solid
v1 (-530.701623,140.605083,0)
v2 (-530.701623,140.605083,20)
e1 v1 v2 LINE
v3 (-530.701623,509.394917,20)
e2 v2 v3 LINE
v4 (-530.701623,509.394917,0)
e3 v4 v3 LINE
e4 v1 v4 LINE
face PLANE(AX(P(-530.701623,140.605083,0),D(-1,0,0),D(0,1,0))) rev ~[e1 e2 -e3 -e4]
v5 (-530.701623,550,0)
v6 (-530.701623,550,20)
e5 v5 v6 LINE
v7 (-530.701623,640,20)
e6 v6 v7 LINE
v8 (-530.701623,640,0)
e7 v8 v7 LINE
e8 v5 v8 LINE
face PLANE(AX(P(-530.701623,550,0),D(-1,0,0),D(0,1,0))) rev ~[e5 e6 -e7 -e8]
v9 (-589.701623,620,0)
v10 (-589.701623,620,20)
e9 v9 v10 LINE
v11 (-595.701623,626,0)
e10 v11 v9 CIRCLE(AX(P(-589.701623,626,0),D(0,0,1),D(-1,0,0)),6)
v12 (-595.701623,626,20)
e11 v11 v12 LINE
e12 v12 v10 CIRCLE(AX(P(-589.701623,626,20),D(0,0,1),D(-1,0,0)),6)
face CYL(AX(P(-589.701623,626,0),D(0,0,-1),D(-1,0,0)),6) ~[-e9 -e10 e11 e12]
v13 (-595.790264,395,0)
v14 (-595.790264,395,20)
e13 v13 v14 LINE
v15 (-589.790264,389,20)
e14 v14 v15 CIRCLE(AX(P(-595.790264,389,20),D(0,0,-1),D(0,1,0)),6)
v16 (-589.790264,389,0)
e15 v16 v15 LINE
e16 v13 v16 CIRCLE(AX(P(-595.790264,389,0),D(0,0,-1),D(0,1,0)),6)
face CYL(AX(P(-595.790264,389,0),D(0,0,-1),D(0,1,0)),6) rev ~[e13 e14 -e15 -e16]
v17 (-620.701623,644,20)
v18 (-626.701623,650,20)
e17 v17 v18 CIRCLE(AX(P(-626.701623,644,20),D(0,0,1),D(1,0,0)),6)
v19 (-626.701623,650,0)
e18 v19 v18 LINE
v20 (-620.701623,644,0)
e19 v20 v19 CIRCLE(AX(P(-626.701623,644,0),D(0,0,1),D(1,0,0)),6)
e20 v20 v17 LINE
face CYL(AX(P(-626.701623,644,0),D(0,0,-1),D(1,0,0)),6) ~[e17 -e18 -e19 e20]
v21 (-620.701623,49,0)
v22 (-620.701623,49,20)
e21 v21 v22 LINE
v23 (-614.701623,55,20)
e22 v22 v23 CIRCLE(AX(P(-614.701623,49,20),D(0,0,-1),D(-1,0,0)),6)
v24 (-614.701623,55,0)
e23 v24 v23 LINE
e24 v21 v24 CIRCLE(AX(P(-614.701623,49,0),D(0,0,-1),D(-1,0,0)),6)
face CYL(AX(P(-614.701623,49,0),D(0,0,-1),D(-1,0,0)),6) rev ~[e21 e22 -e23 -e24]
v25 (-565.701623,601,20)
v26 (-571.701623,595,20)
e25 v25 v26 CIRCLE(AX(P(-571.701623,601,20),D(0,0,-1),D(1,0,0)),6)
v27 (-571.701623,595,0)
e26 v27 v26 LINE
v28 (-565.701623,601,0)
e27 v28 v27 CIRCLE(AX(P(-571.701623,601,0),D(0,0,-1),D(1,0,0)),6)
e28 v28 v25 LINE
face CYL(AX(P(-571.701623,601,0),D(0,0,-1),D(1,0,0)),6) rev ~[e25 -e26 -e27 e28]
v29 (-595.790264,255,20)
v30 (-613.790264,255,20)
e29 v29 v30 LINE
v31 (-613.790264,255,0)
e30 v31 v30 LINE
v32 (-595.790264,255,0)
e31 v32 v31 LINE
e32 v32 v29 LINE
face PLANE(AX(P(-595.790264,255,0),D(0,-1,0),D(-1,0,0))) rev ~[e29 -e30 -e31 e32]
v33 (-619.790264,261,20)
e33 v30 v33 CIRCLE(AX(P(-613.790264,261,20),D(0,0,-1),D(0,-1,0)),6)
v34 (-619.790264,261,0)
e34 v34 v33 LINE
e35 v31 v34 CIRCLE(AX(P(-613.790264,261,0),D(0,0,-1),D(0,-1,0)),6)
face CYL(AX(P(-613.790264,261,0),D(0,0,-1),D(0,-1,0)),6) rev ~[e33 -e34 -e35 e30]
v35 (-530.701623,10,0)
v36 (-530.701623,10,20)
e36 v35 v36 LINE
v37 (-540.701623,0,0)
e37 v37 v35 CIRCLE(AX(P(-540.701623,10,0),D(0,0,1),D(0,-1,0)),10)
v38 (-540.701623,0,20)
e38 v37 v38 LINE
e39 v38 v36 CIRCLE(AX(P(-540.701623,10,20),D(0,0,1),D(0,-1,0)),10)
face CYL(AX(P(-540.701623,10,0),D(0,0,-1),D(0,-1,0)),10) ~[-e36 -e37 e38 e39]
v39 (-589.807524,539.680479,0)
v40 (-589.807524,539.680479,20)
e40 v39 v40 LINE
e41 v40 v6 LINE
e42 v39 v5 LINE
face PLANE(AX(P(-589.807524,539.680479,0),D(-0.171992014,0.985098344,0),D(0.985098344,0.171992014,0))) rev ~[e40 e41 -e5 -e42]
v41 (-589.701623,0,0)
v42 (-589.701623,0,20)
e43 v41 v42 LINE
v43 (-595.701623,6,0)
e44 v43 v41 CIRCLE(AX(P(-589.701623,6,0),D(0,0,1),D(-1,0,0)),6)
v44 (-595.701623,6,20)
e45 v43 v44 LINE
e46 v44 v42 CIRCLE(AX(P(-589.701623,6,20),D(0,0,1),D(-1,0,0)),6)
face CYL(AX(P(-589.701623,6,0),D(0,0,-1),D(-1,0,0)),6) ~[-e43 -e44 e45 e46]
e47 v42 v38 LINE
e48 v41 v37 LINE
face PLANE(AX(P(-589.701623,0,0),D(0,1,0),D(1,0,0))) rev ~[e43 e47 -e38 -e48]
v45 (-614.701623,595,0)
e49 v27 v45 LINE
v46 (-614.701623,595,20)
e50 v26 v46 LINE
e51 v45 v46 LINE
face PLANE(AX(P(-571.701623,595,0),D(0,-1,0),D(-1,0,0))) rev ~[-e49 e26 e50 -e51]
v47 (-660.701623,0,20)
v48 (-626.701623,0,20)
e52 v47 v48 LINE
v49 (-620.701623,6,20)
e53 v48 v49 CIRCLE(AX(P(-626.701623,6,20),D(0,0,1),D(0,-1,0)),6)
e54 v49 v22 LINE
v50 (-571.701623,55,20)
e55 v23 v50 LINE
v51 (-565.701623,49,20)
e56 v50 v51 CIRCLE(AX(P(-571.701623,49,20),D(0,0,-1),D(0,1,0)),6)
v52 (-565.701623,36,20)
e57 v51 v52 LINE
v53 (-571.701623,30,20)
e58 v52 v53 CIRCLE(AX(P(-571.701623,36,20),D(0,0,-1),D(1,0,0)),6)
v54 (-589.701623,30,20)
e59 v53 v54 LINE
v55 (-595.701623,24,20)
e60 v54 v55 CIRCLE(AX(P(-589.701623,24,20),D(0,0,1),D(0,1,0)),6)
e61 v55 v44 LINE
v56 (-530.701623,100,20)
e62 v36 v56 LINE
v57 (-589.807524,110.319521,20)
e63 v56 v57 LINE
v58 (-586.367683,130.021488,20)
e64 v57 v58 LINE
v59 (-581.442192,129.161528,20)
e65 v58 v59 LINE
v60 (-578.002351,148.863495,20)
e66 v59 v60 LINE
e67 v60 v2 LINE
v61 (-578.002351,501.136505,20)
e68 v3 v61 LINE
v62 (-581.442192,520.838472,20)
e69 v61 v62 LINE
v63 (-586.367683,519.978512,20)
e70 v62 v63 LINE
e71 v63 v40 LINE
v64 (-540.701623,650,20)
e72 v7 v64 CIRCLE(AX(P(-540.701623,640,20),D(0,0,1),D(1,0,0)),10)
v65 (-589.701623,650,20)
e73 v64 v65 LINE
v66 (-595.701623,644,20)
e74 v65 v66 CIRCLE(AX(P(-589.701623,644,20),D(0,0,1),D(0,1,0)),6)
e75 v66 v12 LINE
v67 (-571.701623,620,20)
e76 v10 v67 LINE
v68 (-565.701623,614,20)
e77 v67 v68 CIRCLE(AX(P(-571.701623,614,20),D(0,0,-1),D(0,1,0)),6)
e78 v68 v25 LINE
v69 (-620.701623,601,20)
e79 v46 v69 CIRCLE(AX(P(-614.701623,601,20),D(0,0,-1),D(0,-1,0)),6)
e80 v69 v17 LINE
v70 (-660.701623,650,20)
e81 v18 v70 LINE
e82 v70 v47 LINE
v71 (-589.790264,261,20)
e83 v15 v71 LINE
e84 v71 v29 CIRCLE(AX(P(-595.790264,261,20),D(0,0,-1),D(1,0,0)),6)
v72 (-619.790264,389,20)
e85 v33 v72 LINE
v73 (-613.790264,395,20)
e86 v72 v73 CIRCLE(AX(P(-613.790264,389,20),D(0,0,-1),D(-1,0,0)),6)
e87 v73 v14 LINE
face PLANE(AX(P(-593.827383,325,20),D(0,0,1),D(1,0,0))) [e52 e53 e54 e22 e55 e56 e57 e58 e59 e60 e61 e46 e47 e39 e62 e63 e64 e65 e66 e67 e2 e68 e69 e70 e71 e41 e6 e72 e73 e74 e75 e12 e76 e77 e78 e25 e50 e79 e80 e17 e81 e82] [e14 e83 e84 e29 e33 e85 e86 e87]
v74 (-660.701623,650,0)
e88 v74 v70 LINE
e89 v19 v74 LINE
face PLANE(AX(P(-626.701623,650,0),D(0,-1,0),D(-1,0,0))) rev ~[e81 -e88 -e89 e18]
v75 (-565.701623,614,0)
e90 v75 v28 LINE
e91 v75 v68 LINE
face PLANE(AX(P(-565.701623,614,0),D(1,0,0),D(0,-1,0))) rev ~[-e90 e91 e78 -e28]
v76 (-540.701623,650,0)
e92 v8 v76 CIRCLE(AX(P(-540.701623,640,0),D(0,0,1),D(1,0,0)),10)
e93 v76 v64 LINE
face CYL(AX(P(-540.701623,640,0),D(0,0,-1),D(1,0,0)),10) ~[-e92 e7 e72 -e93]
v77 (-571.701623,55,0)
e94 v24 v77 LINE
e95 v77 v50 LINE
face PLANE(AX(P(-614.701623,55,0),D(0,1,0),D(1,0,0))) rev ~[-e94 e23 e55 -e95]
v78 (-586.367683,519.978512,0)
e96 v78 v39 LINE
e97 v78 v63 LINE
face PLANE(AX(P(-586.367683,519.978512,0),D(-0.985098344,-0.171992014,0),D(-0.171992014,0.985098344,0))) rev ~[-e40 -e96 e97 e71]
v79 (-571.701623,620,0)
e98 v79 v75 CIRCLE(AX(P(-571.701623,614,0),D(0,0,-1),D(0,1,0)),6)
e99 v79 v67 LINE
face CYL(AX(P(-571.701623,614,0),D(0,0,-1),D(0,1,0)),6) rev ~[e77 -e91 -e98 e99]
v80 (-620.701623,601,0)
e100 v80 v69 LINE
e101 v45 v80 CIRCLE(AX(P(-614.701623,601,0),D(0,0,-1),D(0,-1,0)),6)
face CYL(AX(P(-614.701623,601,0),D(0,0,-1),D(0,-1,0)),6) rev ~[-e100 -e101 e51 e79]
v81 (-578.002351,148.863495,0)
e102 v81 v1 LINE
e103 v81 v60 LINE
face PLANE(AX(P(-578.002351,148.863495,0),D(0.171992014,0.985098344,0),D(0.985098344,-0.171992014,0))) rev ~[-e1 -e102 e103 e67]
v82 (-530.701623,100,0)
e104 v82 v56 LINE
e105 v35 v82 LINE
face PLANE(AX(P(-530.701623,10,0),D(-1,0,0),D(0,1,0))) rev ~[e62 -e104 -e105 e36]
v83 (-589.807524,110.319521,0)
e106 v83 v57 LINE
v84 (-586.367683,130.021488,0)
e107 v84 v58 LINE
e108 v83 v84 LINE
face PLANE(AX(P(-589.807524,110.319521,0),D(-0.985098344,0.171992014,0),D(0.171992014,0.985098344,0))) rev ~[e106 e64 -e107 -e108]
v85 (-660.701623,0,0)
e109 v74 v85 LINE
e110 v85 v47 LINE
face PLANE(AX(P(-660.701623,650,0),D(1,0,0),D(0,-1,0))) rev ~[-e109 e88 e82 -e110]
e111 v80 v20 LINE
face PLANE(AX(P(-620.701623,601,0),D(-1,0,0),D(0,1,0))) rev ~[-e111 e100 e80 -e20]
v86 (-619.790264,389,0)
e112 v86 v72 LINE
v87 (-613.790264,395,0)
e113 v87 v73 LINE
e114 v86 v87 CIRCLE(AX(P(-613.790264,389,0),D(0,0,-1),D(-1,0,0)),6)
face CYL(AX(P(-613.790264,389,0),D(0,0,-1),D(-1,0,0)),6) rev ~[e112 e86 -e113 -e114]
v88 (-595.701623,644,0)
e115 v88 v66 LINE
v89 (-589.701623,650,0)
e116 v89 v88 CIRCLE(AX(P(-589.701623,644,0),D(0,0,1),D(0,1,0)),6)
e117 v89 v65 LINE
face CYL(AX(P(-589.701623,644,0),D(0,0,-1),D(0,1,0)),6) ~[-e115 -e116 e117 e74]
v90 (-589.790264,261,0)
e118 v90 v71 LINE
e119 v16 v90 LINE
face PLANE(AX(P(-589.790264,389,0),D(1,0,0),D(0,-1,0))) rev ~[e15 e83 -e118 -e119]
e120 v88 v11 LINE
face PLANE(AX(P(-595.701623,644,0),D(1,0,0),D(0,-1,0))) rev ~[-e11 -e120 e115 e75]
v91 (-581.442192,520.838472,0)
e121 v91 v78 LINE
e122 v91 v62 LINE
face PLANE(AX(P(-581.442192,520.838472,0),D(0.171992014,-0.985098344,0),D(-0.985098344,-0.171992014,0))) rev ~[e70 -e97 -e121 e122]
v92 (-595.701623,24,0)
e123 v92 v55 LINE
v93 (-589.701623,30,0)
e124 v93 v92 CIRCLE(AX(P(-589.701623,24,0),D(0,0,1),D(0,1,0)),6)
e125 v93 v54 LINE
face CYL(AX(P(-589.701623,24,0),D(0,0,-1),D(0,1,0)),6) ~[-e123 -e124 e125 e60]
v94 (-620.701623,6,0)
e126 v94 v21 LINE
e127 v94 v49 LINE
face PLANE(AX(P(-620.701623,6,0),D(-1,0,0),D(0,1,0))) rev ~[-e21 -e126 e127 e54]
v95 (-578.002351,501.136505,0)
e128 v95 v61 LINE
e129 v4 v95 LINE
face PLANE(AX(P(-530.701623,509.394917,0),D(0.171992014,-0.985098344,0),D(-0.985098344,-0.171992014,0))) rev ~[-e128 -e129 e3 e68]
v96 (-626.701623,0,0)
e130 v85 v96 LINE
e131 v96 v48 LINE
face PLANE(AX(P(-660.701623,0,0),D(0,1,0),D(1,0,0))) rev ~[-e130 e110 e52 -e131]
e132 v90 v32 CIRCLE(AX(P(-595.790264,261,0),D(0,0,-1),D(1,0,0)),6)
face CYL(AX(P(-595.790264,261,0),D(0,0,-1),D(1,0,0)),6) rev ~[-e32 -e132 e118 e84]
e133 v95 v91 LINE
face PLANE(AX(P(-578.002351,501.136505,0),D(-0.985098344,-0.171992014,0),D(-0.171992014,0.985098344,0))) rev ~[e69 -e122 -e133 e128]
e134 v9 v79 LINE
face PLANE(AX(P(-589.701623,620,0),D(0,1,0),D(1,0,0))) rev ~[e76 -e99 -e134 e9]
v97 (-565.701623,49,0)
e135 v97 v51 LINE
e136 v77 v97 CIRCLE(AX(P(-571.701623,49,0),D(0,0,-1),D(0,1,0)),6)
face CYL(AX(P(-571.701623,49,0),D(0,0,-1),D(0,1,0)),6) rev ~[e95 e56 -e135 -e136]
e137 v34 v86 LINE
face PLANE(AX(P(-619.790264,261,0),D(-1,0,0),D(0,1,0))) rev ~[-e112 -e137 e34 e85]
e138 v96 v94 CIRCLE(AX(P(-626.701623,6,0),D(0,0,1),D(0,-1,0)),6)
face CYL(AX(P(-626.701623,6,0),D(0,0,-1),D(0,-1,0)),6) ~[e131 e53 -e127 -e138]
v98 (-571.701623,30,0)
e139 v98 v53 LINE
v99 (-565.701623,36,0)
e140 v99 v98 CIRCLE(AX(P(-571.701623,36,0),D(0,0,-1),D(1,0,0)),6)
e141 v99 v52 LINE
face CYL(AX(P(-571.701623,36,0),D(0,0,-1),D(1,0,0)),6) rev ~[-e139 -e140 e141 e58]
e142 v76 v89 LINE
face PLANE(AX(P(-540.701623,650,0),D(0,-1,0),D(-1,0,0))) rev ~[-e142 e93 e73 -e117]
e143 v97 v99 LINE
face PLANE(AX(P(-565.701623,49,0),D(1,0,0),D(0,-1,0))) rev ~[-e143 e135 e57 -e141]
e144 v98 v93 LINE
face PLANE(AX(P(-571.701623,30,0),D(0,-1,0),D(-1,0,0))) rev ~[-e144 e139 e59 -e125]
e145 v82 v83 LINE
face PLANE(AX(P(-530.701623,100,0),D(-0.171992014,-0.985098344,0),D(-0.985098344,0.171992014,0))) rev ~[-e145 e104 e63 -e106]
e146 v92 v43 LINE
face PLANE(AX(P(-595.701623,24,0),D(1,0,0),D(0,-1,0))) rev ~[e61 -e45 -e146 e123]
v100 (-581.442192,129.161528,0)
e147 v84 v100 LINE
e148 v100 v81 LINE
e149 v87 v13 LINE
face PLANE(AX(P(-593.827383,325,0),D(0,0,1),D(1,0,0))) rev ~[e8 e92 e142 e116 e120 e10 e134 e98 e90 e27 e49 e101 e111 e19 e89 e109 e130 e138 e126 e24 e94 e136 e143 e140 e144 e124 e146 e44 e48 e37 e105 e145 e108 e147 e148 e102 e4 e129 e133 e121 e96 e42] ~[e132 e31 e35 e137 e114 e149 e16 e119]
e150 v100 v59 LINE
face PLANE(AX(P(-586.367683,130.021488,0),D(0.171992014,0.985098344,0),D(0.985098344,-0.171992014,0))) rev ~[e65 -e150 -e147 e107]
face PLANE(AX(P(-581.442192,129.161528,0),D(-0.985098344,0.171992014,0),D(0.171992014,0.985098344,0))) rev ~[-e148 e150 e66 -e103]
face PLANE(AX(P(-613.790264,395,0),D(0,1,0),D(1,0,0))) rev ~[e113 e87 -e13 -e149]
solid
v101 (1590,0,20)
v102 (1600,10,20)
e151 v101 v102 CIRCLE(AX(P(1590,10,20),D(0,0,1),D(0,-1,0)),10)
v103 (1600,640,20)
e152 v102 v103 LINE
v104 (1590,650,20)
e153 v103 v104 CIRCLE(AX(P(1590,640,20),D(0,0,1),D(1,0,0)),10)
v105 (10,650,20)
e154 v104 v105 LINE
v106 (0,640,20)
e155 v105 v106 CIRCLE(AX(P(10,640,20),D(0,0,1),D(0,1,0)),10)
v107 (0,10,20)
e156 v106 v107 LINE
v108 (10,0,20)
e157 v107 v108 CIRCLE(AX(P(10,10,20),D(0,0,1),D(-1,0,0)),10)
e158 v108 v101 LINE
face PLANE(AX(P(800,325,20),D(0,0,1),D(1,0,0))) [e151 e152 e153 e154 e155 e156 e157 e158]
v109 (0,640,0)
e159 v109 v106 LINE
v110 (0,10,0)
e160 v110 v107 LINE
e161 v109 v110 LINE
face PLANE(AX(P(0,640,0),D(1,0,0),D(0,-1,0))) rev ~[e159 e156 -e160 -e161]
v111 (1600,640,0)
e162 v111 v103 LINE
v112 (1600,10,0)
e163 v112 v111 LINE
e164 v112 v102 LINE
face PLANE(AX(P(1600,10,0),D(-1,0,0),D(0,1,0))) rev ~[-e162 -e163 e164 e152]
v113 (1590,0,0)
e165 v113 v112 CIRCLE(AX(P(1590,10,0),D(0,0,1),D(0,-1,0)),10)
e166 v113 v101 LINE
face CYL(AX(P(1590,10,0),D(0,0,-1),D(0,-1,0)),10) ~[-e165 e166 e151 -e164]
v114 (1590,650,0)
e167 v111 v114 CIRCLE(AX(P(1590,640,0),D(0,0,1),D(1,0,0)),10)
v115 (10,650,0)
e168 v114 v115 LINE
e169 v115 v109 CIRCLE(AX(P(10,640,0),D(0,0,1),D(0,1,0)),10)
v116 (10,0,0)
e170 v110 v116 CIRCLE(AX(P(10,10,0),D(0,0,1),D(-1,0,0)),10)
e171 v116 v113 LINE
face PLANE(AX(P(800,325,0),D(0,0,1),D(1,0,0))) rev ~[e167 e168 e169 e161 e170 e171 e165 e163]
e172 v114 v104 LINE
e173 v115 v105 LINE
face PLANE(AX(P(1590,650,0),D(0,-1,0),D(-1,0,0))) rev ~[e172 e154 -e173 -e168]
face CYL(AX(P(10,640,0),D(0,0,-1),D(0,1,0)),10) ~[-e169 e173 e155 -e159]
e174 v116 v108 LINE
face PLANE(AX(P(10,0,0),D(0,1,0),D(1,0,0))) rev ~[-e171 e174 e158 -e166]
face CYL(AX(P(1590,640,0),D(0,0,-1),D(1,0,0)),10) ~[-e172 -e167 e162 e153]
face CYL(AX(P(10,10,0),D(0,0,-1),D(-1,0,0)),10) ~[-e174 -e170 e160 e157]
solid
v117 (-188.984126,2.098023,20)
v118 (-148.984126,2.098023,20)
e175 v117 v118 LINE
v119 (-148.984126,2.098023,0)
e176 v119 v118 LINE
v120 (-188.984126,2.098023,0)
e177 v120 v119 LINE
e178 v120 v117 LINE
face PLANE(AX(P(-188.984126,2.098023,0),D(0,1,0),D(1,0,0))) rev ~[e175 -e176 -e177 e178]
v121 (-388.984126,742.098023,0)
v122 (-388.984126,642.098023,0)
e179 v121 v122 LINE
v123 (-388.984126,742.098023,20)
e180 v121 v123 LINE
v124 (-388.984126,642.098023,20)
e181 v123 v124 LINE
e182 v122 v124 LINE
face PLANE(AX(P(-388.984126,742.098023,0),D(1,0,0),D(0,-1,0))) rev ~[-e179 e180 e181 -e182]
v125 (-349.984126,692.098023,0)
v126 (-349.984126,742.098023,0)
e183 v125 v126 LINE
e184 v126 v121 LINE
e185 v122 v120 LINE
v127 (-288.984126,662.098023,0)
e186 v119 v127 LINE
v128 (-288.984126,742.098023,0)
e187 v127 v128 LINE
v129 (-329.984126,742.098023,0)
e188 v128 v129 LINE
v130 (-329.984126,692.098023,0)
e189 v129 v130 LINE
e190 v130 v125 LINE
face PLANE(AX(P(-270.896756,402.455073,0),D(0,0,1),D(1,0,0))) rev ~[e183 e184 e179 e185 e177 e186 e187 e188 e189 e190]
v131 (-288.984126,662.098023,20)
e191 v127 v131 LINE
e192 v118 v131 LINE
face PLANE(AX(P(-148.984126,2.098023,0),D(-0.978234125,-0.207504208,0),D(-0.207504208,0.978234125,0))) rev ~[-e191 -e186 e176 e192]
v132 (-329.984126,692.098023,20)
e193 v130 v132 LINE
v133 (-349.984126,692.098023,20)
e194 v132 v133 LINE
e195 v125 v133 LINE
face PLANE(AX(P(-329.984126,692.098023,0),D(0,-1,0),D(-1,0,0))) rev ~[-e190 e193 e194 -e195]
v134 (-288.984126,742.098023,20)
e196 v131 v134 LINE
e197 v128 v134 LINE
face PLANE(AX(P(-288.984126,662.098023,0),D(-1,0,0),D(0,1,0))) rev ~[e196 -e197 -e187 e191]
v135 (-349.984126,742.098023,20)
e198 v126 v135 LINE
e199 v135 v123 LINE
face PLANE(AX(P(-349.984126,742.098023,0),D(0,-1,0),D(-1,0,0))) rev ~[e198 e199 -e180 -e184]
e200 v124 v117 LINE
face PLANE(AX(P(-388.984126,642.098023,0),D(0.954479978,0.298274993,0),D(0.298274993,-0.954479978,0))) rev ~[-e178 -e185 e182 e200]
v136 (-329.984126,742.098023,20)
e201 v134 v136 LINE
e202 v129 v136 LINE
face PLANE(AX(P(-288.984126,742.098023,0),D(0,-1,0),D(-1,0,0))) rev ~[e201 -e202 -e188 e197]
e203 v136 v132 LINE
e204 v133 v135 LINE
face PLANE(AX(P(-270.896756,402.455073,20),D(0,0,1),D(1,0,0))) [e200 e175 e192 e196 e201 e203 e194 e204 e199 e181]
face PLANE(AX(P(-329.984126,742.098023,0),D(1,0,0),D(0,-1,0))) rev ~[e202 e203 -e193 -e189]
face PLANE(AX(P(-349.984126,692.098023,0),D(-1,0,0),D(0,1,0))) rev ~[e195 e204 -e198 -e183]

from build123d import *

# Parameters (mm, degrees)
F4_DEPTH = 20
F5_DEPTH = 20
F6_DEPTH = 20


with BuildPart() as f4:
    # F3 (on Top) → F4 (new body)
    with BuildSketch(Plane.XY):
        with BuildLine():
            Line((-589.701622963, 0), (-540.701622963, 0))
            ThreePointArc((-540.701622963, 0), (-533.6305551511, 2.9289321881), (-530.701622963, 10))
            Line((-530.701622963, 10), (-530.701622963, 100))
            Line((-530.701622963, 100), (-589.807523595, 110.319520845))
            Line((-589.807523595, 110.319520845), (-586.3676833134, 130.0214877224))
            Line((-586.3676833134, 130.0214877224), (-581.442191594, 129.1615276519))
            Line((-581.442191594, 129.1615276519), (-578.0023513124, 148.8634945293))
            Line((-578.0023513124, 148.8634945293), (-530.701622963, 140.6050829838))
            Line((-530.701622963, 140.6050829838), (-530.701622963, 509.3949170162))
            Line((-530.701622963, 509.3949170162), (-578.0023513124, 501.1365054707))
            Line((-578.0023513124, 501.1365054707), (-581.442191594, 520.8384723481))
            Line((-581.442191594, 520.8384723481), (-586.3676833134, 519.9785122776))
            Line((-586.3676833134, 519.9785122776), (-589.807523595, 539.680479155))
            Line((-589.807523595, 539.680479155), (-530.701622963, 550))
            Line((-530.701622963, 550), (-530.701622963, 640))
            ThreePointArc((-530.701622963, 640), (-533.6305551511, 647.0710678119), (-540.701622963, 650))
            Line((-540.701622963, 650), (-589.701622963, 650))
            ThreePointArc((-589.701622963, 650), (-593.9442636501, 648.2426406871), (-595.701622963, 644))
            Line((-595.701622963, 644), (-595.701622963, 626))
            ThreePointArc((-595.701622963, 626), (-593.9442636501, 621.7573593129), (-589.701622963, 620))
            Line((-589.701622963, 620), (-571.701622963, 620))
            ThreePointArc((-571.701622963, 620), (-567.4589822758, 618.2426406871), (-565.701622963, 614))
            Line((-565.701622963, 614), (-565.701622963, 601))
            ThreePointArc((-565.701622963, 601), (-567.4589822758, 596.7573593129), (-571.701622963, 595))
            Line((-571.701622963, 595), (-614.701622963, 595))
            ThreePointArc((-614.701622963, 595), (-618.9442636501, 596.7573593129), (-620.701622963, 601))
            Line((-620.701622963, 601), (-620.701622963, 644))
            ThreePointArc((-620.701622963, 644), (-622.4589822758, 648.2426406871), (-626.701622963, 650))
            Line((-626.701622963, 650), (-660.701622963, 650))
            Line((-660.701622963, 650), (-660.701622963, 0))
            Line((-660.701622963, 0), (-626.701622963, 0))
            ThreePointArc((-626.701622963, 0), (-622.4589822758, 1.7573593129), (-620.701622963, 6))
            Line((-620.701622963, 6), (-620.701622963, 49))
            ThreePointArc((-620.701622963, 49), (-618.9442636501, 53.2426406871), (-614.701622963, 55))
            Line((-614.701622963, 55), (-571.701622963, 55))
            ThreePointArc((-571.701622963, 55), (-567.4589822758, 53.2426406871), (-565.701622963, 49))
            Line((-565.701622963, 49), (-565.701622963, 36))
            ThreePointArc((-565.701622963, 36), (-567.4589822758, 31.7573593129), (-571.701622963, 30))
            Line((-571.701622963, 30), (-589.701622963, 30))
            ThreePointArc((-589.701622963, 30), (-593.9442636501, 28.2426406871), (-595.701622963, 24))
            Line((-595.701622963, 24), (-595.701622963, 6))
            ThreePointArc((-595.701622963, 6), (-593.9442636501, 1.7573593129), (-589.701622963, 0))
        make_face()
        with BuildLine():
            Line((-595.7902641296, 255), (-613.7902641296, 255))
            ThreePointArc((-613.7902641296, 255), (-618.0329048168, 256.7573593129), (-619.7902641296, 261))
            Line((-619.7902641296, 261), (-619.7902641296, 325))
            Line((-619.7902641296, 325), (-619.7902641296, 389))
            ThreePointArc((-619.7902641296, 389), (-618.0329048168, 393.2426406871), (-613.7902641296, 395))
            Line((-613.7902641296, 395), (-595.7902641296, 395))
            ThreePointArc((-595.7902641296, 395), (-591.5476234425, 393.2426406871), (-589.7902641296, 389))
            Line((-589.7902641296, 389), (-589.7902641296, 325))
            Line((-589.7902641296, 325), (-589.7902641296, 261))
            ThreePointArc((-589.7902641296, 261), (-591.5476234425, 256.7573593129), (-595.7902641296, 255))
        make_face(mode=Mode.SUBTRACT)
    extrude(amount=F4_DEPTH)


with BuildPart() as f5:
    # F2 (on Top) → F5 (new body)
    with BuildSketch(Plane.XY):
        Polygon((-188.9841258526, 2.0980232812), (-148.9841258526, 2.0980232812), (-288.9841258526, 662.0980232812), (-288.9841258526, 742.0980232812), (-329.9841258526, 742.0980232812), (-329.9841258526, 692.0980232812), (-349.9841258526, 692.0980232812), (-349.9841258526, 742.0980232812), (-388.9841258526, 742.0980232812), (-388.9841258526, 642.0980232812), align=None)
    extrude(amount=F5_DEPTH)


with BuildPart() as f6:
    # F1 (on Top) → F6 (new body)
    with BuildSketch(Plane.XY):
        with BuildLine():
            ThreePointArc((0, 10), (2.9289321881, 2.9289321881), (10, 0))
            Line((10, 0), (1590, 0))
            ThreePointArc((1590, 0), (1597.0710678119, 2.9289321881), (1600, 10))
            Line((1600, 10), (1600, 640))
            ThreePointArc((1600, 640), (1597.0710678119, 647.0710678119), (1590, 650))
            Line((1590, 650), (10, 650))
            ThreePointArc((10, 650), (2.9289321881, 647.0710678119), (0, 640))
            Line((0, 640), (0, 10))
        make_face()
        with BuildLine():
            Line((50, 311), (50, 339))
            ThreePointArc((50, 339), (51.7573593129, 343.2426406871), (56, 345))
            Line((56, 345), (244, 345))
            ThreePointArc((244, 345), (248.2426406871, 343.2426406871), (250, 339))
            Line((250, 339), (250, 311))
            ThreePointArc((250, 311), (248.2426406871, 306.7573593129), (244, 305))
            Line((244, 305), (56, 305))
            ThreePointArc((56, 305), (51.7573593129, 306.7573593129), (50, 311))
        make_face(mode=Mode.SUBTRACT)
        with BuildLine():
            ThreePointArc((1550, 311), (1548.2426406871, 306.7573593129), (1544, 305))
            Line((1544, 305), (1356, 305))
            ThreePointArc((1356, 305), (1351.7573593129, 306.7573593129), (1350, 311))
            Line((1350, 311), (1350, 339))
            ThreePointArc((1350, 339), (1351.7573593129, 343.2426406871), (1356, 345))
            Line((1356, 345), (1544, 345))
            ThreePointArc((1544, 345), (1548.2426406871, 343.2426406871), (1550, 339))
            Line((1550, 339), (1550, 311))
        make_face(mode=Mode.SUBTRACT)
        with BuildLine():
            ThreePointArc((1550, 361), (1548.2426406871, 356.7573593129), (1544, 355))
            Line((1544, 355), (1356, 355))
            ThreePointArc((1356, 355), (1351.7573593129, 356.7573593129), (1350, 361))
            Line((1350, 361), (1350, 363))
            ThreePointArc((1350, 363), (1351.7573593129, 367.2426406871), (1356, 369))
            Line((1356, 369), (1544, 369))
            ThreePointArc((1544, 369), (1548.2426406871, 367.2426406871), (1550, 363))
            Line((1550, 363), (1550, 361))
        make_face(mode=Mode.SUBTRACT)
        with BuildLine():
            Line((1356, 355), (1544, 355))
            ThreePointArc((1544, 355), (1548.2426406871, 356.7573593129), (1550, 361))
            Line((1550, 361), (1550, 363))
            ThreePointArc((1550, 363), (1548.2426406871, 367.2426406871), (1544, 369))
            Line((1544, 369), (1356, 369))
            ThreePointArc((1356, 369), (1351.7573593129, 367.2426406871), (1350, 363))
            Line((1350, 363), (1350, 361))
            ThreePointArc((1350, 361), (1351.7573593129, 356.7573593129), (1356, 355))
        make_face()
        with BuildLine():
            ThreePointArc((56, 345), (51.7573593129, 343.2426406871), (50, 339))
            Line((50, 339), (50, 311))
            ThreePointArc((50, 311), (51.7573593129, 306.7573593129), (56, 305))
            Line((56, 305), (244, 305))
            ThreePointArc((244, 305), (248.2426406871, 306.7573593129), (250, 311))
            Line((250, 311), (250, 339))
            ThreePointArc((250, 339), (248.2426406871, 343.2426406871), (244, 345))
            Line((244, 345), (56, 345))
        make_face()
        with BuildLine():
            Line((1356, 305), (1544, 305))
            ThreePointArc((1544, 305), (1548.2426406871, 306.7573593129), (1550, 311))
            Line((1550, 311), (1550, 339))
            ThreePointArc((1550, 339), (1548.2426406871, 343.2426406871), (1544, 345))
            Line((1544, 345), (1356, 345))
            ThreePointArc((1356, 345), (1351.7573593129, 343.2426406871), (1350, 339))
            Line((1350, 339), (1350, 311))
            ThreePointArc((1350, 311), (1351.7573593129, 306.7573593129), (1356, 305))
        make_face()
    extrude(amount=F6_DEPTH)


solid = Compound([f4.part, f5.part, f6.part])
